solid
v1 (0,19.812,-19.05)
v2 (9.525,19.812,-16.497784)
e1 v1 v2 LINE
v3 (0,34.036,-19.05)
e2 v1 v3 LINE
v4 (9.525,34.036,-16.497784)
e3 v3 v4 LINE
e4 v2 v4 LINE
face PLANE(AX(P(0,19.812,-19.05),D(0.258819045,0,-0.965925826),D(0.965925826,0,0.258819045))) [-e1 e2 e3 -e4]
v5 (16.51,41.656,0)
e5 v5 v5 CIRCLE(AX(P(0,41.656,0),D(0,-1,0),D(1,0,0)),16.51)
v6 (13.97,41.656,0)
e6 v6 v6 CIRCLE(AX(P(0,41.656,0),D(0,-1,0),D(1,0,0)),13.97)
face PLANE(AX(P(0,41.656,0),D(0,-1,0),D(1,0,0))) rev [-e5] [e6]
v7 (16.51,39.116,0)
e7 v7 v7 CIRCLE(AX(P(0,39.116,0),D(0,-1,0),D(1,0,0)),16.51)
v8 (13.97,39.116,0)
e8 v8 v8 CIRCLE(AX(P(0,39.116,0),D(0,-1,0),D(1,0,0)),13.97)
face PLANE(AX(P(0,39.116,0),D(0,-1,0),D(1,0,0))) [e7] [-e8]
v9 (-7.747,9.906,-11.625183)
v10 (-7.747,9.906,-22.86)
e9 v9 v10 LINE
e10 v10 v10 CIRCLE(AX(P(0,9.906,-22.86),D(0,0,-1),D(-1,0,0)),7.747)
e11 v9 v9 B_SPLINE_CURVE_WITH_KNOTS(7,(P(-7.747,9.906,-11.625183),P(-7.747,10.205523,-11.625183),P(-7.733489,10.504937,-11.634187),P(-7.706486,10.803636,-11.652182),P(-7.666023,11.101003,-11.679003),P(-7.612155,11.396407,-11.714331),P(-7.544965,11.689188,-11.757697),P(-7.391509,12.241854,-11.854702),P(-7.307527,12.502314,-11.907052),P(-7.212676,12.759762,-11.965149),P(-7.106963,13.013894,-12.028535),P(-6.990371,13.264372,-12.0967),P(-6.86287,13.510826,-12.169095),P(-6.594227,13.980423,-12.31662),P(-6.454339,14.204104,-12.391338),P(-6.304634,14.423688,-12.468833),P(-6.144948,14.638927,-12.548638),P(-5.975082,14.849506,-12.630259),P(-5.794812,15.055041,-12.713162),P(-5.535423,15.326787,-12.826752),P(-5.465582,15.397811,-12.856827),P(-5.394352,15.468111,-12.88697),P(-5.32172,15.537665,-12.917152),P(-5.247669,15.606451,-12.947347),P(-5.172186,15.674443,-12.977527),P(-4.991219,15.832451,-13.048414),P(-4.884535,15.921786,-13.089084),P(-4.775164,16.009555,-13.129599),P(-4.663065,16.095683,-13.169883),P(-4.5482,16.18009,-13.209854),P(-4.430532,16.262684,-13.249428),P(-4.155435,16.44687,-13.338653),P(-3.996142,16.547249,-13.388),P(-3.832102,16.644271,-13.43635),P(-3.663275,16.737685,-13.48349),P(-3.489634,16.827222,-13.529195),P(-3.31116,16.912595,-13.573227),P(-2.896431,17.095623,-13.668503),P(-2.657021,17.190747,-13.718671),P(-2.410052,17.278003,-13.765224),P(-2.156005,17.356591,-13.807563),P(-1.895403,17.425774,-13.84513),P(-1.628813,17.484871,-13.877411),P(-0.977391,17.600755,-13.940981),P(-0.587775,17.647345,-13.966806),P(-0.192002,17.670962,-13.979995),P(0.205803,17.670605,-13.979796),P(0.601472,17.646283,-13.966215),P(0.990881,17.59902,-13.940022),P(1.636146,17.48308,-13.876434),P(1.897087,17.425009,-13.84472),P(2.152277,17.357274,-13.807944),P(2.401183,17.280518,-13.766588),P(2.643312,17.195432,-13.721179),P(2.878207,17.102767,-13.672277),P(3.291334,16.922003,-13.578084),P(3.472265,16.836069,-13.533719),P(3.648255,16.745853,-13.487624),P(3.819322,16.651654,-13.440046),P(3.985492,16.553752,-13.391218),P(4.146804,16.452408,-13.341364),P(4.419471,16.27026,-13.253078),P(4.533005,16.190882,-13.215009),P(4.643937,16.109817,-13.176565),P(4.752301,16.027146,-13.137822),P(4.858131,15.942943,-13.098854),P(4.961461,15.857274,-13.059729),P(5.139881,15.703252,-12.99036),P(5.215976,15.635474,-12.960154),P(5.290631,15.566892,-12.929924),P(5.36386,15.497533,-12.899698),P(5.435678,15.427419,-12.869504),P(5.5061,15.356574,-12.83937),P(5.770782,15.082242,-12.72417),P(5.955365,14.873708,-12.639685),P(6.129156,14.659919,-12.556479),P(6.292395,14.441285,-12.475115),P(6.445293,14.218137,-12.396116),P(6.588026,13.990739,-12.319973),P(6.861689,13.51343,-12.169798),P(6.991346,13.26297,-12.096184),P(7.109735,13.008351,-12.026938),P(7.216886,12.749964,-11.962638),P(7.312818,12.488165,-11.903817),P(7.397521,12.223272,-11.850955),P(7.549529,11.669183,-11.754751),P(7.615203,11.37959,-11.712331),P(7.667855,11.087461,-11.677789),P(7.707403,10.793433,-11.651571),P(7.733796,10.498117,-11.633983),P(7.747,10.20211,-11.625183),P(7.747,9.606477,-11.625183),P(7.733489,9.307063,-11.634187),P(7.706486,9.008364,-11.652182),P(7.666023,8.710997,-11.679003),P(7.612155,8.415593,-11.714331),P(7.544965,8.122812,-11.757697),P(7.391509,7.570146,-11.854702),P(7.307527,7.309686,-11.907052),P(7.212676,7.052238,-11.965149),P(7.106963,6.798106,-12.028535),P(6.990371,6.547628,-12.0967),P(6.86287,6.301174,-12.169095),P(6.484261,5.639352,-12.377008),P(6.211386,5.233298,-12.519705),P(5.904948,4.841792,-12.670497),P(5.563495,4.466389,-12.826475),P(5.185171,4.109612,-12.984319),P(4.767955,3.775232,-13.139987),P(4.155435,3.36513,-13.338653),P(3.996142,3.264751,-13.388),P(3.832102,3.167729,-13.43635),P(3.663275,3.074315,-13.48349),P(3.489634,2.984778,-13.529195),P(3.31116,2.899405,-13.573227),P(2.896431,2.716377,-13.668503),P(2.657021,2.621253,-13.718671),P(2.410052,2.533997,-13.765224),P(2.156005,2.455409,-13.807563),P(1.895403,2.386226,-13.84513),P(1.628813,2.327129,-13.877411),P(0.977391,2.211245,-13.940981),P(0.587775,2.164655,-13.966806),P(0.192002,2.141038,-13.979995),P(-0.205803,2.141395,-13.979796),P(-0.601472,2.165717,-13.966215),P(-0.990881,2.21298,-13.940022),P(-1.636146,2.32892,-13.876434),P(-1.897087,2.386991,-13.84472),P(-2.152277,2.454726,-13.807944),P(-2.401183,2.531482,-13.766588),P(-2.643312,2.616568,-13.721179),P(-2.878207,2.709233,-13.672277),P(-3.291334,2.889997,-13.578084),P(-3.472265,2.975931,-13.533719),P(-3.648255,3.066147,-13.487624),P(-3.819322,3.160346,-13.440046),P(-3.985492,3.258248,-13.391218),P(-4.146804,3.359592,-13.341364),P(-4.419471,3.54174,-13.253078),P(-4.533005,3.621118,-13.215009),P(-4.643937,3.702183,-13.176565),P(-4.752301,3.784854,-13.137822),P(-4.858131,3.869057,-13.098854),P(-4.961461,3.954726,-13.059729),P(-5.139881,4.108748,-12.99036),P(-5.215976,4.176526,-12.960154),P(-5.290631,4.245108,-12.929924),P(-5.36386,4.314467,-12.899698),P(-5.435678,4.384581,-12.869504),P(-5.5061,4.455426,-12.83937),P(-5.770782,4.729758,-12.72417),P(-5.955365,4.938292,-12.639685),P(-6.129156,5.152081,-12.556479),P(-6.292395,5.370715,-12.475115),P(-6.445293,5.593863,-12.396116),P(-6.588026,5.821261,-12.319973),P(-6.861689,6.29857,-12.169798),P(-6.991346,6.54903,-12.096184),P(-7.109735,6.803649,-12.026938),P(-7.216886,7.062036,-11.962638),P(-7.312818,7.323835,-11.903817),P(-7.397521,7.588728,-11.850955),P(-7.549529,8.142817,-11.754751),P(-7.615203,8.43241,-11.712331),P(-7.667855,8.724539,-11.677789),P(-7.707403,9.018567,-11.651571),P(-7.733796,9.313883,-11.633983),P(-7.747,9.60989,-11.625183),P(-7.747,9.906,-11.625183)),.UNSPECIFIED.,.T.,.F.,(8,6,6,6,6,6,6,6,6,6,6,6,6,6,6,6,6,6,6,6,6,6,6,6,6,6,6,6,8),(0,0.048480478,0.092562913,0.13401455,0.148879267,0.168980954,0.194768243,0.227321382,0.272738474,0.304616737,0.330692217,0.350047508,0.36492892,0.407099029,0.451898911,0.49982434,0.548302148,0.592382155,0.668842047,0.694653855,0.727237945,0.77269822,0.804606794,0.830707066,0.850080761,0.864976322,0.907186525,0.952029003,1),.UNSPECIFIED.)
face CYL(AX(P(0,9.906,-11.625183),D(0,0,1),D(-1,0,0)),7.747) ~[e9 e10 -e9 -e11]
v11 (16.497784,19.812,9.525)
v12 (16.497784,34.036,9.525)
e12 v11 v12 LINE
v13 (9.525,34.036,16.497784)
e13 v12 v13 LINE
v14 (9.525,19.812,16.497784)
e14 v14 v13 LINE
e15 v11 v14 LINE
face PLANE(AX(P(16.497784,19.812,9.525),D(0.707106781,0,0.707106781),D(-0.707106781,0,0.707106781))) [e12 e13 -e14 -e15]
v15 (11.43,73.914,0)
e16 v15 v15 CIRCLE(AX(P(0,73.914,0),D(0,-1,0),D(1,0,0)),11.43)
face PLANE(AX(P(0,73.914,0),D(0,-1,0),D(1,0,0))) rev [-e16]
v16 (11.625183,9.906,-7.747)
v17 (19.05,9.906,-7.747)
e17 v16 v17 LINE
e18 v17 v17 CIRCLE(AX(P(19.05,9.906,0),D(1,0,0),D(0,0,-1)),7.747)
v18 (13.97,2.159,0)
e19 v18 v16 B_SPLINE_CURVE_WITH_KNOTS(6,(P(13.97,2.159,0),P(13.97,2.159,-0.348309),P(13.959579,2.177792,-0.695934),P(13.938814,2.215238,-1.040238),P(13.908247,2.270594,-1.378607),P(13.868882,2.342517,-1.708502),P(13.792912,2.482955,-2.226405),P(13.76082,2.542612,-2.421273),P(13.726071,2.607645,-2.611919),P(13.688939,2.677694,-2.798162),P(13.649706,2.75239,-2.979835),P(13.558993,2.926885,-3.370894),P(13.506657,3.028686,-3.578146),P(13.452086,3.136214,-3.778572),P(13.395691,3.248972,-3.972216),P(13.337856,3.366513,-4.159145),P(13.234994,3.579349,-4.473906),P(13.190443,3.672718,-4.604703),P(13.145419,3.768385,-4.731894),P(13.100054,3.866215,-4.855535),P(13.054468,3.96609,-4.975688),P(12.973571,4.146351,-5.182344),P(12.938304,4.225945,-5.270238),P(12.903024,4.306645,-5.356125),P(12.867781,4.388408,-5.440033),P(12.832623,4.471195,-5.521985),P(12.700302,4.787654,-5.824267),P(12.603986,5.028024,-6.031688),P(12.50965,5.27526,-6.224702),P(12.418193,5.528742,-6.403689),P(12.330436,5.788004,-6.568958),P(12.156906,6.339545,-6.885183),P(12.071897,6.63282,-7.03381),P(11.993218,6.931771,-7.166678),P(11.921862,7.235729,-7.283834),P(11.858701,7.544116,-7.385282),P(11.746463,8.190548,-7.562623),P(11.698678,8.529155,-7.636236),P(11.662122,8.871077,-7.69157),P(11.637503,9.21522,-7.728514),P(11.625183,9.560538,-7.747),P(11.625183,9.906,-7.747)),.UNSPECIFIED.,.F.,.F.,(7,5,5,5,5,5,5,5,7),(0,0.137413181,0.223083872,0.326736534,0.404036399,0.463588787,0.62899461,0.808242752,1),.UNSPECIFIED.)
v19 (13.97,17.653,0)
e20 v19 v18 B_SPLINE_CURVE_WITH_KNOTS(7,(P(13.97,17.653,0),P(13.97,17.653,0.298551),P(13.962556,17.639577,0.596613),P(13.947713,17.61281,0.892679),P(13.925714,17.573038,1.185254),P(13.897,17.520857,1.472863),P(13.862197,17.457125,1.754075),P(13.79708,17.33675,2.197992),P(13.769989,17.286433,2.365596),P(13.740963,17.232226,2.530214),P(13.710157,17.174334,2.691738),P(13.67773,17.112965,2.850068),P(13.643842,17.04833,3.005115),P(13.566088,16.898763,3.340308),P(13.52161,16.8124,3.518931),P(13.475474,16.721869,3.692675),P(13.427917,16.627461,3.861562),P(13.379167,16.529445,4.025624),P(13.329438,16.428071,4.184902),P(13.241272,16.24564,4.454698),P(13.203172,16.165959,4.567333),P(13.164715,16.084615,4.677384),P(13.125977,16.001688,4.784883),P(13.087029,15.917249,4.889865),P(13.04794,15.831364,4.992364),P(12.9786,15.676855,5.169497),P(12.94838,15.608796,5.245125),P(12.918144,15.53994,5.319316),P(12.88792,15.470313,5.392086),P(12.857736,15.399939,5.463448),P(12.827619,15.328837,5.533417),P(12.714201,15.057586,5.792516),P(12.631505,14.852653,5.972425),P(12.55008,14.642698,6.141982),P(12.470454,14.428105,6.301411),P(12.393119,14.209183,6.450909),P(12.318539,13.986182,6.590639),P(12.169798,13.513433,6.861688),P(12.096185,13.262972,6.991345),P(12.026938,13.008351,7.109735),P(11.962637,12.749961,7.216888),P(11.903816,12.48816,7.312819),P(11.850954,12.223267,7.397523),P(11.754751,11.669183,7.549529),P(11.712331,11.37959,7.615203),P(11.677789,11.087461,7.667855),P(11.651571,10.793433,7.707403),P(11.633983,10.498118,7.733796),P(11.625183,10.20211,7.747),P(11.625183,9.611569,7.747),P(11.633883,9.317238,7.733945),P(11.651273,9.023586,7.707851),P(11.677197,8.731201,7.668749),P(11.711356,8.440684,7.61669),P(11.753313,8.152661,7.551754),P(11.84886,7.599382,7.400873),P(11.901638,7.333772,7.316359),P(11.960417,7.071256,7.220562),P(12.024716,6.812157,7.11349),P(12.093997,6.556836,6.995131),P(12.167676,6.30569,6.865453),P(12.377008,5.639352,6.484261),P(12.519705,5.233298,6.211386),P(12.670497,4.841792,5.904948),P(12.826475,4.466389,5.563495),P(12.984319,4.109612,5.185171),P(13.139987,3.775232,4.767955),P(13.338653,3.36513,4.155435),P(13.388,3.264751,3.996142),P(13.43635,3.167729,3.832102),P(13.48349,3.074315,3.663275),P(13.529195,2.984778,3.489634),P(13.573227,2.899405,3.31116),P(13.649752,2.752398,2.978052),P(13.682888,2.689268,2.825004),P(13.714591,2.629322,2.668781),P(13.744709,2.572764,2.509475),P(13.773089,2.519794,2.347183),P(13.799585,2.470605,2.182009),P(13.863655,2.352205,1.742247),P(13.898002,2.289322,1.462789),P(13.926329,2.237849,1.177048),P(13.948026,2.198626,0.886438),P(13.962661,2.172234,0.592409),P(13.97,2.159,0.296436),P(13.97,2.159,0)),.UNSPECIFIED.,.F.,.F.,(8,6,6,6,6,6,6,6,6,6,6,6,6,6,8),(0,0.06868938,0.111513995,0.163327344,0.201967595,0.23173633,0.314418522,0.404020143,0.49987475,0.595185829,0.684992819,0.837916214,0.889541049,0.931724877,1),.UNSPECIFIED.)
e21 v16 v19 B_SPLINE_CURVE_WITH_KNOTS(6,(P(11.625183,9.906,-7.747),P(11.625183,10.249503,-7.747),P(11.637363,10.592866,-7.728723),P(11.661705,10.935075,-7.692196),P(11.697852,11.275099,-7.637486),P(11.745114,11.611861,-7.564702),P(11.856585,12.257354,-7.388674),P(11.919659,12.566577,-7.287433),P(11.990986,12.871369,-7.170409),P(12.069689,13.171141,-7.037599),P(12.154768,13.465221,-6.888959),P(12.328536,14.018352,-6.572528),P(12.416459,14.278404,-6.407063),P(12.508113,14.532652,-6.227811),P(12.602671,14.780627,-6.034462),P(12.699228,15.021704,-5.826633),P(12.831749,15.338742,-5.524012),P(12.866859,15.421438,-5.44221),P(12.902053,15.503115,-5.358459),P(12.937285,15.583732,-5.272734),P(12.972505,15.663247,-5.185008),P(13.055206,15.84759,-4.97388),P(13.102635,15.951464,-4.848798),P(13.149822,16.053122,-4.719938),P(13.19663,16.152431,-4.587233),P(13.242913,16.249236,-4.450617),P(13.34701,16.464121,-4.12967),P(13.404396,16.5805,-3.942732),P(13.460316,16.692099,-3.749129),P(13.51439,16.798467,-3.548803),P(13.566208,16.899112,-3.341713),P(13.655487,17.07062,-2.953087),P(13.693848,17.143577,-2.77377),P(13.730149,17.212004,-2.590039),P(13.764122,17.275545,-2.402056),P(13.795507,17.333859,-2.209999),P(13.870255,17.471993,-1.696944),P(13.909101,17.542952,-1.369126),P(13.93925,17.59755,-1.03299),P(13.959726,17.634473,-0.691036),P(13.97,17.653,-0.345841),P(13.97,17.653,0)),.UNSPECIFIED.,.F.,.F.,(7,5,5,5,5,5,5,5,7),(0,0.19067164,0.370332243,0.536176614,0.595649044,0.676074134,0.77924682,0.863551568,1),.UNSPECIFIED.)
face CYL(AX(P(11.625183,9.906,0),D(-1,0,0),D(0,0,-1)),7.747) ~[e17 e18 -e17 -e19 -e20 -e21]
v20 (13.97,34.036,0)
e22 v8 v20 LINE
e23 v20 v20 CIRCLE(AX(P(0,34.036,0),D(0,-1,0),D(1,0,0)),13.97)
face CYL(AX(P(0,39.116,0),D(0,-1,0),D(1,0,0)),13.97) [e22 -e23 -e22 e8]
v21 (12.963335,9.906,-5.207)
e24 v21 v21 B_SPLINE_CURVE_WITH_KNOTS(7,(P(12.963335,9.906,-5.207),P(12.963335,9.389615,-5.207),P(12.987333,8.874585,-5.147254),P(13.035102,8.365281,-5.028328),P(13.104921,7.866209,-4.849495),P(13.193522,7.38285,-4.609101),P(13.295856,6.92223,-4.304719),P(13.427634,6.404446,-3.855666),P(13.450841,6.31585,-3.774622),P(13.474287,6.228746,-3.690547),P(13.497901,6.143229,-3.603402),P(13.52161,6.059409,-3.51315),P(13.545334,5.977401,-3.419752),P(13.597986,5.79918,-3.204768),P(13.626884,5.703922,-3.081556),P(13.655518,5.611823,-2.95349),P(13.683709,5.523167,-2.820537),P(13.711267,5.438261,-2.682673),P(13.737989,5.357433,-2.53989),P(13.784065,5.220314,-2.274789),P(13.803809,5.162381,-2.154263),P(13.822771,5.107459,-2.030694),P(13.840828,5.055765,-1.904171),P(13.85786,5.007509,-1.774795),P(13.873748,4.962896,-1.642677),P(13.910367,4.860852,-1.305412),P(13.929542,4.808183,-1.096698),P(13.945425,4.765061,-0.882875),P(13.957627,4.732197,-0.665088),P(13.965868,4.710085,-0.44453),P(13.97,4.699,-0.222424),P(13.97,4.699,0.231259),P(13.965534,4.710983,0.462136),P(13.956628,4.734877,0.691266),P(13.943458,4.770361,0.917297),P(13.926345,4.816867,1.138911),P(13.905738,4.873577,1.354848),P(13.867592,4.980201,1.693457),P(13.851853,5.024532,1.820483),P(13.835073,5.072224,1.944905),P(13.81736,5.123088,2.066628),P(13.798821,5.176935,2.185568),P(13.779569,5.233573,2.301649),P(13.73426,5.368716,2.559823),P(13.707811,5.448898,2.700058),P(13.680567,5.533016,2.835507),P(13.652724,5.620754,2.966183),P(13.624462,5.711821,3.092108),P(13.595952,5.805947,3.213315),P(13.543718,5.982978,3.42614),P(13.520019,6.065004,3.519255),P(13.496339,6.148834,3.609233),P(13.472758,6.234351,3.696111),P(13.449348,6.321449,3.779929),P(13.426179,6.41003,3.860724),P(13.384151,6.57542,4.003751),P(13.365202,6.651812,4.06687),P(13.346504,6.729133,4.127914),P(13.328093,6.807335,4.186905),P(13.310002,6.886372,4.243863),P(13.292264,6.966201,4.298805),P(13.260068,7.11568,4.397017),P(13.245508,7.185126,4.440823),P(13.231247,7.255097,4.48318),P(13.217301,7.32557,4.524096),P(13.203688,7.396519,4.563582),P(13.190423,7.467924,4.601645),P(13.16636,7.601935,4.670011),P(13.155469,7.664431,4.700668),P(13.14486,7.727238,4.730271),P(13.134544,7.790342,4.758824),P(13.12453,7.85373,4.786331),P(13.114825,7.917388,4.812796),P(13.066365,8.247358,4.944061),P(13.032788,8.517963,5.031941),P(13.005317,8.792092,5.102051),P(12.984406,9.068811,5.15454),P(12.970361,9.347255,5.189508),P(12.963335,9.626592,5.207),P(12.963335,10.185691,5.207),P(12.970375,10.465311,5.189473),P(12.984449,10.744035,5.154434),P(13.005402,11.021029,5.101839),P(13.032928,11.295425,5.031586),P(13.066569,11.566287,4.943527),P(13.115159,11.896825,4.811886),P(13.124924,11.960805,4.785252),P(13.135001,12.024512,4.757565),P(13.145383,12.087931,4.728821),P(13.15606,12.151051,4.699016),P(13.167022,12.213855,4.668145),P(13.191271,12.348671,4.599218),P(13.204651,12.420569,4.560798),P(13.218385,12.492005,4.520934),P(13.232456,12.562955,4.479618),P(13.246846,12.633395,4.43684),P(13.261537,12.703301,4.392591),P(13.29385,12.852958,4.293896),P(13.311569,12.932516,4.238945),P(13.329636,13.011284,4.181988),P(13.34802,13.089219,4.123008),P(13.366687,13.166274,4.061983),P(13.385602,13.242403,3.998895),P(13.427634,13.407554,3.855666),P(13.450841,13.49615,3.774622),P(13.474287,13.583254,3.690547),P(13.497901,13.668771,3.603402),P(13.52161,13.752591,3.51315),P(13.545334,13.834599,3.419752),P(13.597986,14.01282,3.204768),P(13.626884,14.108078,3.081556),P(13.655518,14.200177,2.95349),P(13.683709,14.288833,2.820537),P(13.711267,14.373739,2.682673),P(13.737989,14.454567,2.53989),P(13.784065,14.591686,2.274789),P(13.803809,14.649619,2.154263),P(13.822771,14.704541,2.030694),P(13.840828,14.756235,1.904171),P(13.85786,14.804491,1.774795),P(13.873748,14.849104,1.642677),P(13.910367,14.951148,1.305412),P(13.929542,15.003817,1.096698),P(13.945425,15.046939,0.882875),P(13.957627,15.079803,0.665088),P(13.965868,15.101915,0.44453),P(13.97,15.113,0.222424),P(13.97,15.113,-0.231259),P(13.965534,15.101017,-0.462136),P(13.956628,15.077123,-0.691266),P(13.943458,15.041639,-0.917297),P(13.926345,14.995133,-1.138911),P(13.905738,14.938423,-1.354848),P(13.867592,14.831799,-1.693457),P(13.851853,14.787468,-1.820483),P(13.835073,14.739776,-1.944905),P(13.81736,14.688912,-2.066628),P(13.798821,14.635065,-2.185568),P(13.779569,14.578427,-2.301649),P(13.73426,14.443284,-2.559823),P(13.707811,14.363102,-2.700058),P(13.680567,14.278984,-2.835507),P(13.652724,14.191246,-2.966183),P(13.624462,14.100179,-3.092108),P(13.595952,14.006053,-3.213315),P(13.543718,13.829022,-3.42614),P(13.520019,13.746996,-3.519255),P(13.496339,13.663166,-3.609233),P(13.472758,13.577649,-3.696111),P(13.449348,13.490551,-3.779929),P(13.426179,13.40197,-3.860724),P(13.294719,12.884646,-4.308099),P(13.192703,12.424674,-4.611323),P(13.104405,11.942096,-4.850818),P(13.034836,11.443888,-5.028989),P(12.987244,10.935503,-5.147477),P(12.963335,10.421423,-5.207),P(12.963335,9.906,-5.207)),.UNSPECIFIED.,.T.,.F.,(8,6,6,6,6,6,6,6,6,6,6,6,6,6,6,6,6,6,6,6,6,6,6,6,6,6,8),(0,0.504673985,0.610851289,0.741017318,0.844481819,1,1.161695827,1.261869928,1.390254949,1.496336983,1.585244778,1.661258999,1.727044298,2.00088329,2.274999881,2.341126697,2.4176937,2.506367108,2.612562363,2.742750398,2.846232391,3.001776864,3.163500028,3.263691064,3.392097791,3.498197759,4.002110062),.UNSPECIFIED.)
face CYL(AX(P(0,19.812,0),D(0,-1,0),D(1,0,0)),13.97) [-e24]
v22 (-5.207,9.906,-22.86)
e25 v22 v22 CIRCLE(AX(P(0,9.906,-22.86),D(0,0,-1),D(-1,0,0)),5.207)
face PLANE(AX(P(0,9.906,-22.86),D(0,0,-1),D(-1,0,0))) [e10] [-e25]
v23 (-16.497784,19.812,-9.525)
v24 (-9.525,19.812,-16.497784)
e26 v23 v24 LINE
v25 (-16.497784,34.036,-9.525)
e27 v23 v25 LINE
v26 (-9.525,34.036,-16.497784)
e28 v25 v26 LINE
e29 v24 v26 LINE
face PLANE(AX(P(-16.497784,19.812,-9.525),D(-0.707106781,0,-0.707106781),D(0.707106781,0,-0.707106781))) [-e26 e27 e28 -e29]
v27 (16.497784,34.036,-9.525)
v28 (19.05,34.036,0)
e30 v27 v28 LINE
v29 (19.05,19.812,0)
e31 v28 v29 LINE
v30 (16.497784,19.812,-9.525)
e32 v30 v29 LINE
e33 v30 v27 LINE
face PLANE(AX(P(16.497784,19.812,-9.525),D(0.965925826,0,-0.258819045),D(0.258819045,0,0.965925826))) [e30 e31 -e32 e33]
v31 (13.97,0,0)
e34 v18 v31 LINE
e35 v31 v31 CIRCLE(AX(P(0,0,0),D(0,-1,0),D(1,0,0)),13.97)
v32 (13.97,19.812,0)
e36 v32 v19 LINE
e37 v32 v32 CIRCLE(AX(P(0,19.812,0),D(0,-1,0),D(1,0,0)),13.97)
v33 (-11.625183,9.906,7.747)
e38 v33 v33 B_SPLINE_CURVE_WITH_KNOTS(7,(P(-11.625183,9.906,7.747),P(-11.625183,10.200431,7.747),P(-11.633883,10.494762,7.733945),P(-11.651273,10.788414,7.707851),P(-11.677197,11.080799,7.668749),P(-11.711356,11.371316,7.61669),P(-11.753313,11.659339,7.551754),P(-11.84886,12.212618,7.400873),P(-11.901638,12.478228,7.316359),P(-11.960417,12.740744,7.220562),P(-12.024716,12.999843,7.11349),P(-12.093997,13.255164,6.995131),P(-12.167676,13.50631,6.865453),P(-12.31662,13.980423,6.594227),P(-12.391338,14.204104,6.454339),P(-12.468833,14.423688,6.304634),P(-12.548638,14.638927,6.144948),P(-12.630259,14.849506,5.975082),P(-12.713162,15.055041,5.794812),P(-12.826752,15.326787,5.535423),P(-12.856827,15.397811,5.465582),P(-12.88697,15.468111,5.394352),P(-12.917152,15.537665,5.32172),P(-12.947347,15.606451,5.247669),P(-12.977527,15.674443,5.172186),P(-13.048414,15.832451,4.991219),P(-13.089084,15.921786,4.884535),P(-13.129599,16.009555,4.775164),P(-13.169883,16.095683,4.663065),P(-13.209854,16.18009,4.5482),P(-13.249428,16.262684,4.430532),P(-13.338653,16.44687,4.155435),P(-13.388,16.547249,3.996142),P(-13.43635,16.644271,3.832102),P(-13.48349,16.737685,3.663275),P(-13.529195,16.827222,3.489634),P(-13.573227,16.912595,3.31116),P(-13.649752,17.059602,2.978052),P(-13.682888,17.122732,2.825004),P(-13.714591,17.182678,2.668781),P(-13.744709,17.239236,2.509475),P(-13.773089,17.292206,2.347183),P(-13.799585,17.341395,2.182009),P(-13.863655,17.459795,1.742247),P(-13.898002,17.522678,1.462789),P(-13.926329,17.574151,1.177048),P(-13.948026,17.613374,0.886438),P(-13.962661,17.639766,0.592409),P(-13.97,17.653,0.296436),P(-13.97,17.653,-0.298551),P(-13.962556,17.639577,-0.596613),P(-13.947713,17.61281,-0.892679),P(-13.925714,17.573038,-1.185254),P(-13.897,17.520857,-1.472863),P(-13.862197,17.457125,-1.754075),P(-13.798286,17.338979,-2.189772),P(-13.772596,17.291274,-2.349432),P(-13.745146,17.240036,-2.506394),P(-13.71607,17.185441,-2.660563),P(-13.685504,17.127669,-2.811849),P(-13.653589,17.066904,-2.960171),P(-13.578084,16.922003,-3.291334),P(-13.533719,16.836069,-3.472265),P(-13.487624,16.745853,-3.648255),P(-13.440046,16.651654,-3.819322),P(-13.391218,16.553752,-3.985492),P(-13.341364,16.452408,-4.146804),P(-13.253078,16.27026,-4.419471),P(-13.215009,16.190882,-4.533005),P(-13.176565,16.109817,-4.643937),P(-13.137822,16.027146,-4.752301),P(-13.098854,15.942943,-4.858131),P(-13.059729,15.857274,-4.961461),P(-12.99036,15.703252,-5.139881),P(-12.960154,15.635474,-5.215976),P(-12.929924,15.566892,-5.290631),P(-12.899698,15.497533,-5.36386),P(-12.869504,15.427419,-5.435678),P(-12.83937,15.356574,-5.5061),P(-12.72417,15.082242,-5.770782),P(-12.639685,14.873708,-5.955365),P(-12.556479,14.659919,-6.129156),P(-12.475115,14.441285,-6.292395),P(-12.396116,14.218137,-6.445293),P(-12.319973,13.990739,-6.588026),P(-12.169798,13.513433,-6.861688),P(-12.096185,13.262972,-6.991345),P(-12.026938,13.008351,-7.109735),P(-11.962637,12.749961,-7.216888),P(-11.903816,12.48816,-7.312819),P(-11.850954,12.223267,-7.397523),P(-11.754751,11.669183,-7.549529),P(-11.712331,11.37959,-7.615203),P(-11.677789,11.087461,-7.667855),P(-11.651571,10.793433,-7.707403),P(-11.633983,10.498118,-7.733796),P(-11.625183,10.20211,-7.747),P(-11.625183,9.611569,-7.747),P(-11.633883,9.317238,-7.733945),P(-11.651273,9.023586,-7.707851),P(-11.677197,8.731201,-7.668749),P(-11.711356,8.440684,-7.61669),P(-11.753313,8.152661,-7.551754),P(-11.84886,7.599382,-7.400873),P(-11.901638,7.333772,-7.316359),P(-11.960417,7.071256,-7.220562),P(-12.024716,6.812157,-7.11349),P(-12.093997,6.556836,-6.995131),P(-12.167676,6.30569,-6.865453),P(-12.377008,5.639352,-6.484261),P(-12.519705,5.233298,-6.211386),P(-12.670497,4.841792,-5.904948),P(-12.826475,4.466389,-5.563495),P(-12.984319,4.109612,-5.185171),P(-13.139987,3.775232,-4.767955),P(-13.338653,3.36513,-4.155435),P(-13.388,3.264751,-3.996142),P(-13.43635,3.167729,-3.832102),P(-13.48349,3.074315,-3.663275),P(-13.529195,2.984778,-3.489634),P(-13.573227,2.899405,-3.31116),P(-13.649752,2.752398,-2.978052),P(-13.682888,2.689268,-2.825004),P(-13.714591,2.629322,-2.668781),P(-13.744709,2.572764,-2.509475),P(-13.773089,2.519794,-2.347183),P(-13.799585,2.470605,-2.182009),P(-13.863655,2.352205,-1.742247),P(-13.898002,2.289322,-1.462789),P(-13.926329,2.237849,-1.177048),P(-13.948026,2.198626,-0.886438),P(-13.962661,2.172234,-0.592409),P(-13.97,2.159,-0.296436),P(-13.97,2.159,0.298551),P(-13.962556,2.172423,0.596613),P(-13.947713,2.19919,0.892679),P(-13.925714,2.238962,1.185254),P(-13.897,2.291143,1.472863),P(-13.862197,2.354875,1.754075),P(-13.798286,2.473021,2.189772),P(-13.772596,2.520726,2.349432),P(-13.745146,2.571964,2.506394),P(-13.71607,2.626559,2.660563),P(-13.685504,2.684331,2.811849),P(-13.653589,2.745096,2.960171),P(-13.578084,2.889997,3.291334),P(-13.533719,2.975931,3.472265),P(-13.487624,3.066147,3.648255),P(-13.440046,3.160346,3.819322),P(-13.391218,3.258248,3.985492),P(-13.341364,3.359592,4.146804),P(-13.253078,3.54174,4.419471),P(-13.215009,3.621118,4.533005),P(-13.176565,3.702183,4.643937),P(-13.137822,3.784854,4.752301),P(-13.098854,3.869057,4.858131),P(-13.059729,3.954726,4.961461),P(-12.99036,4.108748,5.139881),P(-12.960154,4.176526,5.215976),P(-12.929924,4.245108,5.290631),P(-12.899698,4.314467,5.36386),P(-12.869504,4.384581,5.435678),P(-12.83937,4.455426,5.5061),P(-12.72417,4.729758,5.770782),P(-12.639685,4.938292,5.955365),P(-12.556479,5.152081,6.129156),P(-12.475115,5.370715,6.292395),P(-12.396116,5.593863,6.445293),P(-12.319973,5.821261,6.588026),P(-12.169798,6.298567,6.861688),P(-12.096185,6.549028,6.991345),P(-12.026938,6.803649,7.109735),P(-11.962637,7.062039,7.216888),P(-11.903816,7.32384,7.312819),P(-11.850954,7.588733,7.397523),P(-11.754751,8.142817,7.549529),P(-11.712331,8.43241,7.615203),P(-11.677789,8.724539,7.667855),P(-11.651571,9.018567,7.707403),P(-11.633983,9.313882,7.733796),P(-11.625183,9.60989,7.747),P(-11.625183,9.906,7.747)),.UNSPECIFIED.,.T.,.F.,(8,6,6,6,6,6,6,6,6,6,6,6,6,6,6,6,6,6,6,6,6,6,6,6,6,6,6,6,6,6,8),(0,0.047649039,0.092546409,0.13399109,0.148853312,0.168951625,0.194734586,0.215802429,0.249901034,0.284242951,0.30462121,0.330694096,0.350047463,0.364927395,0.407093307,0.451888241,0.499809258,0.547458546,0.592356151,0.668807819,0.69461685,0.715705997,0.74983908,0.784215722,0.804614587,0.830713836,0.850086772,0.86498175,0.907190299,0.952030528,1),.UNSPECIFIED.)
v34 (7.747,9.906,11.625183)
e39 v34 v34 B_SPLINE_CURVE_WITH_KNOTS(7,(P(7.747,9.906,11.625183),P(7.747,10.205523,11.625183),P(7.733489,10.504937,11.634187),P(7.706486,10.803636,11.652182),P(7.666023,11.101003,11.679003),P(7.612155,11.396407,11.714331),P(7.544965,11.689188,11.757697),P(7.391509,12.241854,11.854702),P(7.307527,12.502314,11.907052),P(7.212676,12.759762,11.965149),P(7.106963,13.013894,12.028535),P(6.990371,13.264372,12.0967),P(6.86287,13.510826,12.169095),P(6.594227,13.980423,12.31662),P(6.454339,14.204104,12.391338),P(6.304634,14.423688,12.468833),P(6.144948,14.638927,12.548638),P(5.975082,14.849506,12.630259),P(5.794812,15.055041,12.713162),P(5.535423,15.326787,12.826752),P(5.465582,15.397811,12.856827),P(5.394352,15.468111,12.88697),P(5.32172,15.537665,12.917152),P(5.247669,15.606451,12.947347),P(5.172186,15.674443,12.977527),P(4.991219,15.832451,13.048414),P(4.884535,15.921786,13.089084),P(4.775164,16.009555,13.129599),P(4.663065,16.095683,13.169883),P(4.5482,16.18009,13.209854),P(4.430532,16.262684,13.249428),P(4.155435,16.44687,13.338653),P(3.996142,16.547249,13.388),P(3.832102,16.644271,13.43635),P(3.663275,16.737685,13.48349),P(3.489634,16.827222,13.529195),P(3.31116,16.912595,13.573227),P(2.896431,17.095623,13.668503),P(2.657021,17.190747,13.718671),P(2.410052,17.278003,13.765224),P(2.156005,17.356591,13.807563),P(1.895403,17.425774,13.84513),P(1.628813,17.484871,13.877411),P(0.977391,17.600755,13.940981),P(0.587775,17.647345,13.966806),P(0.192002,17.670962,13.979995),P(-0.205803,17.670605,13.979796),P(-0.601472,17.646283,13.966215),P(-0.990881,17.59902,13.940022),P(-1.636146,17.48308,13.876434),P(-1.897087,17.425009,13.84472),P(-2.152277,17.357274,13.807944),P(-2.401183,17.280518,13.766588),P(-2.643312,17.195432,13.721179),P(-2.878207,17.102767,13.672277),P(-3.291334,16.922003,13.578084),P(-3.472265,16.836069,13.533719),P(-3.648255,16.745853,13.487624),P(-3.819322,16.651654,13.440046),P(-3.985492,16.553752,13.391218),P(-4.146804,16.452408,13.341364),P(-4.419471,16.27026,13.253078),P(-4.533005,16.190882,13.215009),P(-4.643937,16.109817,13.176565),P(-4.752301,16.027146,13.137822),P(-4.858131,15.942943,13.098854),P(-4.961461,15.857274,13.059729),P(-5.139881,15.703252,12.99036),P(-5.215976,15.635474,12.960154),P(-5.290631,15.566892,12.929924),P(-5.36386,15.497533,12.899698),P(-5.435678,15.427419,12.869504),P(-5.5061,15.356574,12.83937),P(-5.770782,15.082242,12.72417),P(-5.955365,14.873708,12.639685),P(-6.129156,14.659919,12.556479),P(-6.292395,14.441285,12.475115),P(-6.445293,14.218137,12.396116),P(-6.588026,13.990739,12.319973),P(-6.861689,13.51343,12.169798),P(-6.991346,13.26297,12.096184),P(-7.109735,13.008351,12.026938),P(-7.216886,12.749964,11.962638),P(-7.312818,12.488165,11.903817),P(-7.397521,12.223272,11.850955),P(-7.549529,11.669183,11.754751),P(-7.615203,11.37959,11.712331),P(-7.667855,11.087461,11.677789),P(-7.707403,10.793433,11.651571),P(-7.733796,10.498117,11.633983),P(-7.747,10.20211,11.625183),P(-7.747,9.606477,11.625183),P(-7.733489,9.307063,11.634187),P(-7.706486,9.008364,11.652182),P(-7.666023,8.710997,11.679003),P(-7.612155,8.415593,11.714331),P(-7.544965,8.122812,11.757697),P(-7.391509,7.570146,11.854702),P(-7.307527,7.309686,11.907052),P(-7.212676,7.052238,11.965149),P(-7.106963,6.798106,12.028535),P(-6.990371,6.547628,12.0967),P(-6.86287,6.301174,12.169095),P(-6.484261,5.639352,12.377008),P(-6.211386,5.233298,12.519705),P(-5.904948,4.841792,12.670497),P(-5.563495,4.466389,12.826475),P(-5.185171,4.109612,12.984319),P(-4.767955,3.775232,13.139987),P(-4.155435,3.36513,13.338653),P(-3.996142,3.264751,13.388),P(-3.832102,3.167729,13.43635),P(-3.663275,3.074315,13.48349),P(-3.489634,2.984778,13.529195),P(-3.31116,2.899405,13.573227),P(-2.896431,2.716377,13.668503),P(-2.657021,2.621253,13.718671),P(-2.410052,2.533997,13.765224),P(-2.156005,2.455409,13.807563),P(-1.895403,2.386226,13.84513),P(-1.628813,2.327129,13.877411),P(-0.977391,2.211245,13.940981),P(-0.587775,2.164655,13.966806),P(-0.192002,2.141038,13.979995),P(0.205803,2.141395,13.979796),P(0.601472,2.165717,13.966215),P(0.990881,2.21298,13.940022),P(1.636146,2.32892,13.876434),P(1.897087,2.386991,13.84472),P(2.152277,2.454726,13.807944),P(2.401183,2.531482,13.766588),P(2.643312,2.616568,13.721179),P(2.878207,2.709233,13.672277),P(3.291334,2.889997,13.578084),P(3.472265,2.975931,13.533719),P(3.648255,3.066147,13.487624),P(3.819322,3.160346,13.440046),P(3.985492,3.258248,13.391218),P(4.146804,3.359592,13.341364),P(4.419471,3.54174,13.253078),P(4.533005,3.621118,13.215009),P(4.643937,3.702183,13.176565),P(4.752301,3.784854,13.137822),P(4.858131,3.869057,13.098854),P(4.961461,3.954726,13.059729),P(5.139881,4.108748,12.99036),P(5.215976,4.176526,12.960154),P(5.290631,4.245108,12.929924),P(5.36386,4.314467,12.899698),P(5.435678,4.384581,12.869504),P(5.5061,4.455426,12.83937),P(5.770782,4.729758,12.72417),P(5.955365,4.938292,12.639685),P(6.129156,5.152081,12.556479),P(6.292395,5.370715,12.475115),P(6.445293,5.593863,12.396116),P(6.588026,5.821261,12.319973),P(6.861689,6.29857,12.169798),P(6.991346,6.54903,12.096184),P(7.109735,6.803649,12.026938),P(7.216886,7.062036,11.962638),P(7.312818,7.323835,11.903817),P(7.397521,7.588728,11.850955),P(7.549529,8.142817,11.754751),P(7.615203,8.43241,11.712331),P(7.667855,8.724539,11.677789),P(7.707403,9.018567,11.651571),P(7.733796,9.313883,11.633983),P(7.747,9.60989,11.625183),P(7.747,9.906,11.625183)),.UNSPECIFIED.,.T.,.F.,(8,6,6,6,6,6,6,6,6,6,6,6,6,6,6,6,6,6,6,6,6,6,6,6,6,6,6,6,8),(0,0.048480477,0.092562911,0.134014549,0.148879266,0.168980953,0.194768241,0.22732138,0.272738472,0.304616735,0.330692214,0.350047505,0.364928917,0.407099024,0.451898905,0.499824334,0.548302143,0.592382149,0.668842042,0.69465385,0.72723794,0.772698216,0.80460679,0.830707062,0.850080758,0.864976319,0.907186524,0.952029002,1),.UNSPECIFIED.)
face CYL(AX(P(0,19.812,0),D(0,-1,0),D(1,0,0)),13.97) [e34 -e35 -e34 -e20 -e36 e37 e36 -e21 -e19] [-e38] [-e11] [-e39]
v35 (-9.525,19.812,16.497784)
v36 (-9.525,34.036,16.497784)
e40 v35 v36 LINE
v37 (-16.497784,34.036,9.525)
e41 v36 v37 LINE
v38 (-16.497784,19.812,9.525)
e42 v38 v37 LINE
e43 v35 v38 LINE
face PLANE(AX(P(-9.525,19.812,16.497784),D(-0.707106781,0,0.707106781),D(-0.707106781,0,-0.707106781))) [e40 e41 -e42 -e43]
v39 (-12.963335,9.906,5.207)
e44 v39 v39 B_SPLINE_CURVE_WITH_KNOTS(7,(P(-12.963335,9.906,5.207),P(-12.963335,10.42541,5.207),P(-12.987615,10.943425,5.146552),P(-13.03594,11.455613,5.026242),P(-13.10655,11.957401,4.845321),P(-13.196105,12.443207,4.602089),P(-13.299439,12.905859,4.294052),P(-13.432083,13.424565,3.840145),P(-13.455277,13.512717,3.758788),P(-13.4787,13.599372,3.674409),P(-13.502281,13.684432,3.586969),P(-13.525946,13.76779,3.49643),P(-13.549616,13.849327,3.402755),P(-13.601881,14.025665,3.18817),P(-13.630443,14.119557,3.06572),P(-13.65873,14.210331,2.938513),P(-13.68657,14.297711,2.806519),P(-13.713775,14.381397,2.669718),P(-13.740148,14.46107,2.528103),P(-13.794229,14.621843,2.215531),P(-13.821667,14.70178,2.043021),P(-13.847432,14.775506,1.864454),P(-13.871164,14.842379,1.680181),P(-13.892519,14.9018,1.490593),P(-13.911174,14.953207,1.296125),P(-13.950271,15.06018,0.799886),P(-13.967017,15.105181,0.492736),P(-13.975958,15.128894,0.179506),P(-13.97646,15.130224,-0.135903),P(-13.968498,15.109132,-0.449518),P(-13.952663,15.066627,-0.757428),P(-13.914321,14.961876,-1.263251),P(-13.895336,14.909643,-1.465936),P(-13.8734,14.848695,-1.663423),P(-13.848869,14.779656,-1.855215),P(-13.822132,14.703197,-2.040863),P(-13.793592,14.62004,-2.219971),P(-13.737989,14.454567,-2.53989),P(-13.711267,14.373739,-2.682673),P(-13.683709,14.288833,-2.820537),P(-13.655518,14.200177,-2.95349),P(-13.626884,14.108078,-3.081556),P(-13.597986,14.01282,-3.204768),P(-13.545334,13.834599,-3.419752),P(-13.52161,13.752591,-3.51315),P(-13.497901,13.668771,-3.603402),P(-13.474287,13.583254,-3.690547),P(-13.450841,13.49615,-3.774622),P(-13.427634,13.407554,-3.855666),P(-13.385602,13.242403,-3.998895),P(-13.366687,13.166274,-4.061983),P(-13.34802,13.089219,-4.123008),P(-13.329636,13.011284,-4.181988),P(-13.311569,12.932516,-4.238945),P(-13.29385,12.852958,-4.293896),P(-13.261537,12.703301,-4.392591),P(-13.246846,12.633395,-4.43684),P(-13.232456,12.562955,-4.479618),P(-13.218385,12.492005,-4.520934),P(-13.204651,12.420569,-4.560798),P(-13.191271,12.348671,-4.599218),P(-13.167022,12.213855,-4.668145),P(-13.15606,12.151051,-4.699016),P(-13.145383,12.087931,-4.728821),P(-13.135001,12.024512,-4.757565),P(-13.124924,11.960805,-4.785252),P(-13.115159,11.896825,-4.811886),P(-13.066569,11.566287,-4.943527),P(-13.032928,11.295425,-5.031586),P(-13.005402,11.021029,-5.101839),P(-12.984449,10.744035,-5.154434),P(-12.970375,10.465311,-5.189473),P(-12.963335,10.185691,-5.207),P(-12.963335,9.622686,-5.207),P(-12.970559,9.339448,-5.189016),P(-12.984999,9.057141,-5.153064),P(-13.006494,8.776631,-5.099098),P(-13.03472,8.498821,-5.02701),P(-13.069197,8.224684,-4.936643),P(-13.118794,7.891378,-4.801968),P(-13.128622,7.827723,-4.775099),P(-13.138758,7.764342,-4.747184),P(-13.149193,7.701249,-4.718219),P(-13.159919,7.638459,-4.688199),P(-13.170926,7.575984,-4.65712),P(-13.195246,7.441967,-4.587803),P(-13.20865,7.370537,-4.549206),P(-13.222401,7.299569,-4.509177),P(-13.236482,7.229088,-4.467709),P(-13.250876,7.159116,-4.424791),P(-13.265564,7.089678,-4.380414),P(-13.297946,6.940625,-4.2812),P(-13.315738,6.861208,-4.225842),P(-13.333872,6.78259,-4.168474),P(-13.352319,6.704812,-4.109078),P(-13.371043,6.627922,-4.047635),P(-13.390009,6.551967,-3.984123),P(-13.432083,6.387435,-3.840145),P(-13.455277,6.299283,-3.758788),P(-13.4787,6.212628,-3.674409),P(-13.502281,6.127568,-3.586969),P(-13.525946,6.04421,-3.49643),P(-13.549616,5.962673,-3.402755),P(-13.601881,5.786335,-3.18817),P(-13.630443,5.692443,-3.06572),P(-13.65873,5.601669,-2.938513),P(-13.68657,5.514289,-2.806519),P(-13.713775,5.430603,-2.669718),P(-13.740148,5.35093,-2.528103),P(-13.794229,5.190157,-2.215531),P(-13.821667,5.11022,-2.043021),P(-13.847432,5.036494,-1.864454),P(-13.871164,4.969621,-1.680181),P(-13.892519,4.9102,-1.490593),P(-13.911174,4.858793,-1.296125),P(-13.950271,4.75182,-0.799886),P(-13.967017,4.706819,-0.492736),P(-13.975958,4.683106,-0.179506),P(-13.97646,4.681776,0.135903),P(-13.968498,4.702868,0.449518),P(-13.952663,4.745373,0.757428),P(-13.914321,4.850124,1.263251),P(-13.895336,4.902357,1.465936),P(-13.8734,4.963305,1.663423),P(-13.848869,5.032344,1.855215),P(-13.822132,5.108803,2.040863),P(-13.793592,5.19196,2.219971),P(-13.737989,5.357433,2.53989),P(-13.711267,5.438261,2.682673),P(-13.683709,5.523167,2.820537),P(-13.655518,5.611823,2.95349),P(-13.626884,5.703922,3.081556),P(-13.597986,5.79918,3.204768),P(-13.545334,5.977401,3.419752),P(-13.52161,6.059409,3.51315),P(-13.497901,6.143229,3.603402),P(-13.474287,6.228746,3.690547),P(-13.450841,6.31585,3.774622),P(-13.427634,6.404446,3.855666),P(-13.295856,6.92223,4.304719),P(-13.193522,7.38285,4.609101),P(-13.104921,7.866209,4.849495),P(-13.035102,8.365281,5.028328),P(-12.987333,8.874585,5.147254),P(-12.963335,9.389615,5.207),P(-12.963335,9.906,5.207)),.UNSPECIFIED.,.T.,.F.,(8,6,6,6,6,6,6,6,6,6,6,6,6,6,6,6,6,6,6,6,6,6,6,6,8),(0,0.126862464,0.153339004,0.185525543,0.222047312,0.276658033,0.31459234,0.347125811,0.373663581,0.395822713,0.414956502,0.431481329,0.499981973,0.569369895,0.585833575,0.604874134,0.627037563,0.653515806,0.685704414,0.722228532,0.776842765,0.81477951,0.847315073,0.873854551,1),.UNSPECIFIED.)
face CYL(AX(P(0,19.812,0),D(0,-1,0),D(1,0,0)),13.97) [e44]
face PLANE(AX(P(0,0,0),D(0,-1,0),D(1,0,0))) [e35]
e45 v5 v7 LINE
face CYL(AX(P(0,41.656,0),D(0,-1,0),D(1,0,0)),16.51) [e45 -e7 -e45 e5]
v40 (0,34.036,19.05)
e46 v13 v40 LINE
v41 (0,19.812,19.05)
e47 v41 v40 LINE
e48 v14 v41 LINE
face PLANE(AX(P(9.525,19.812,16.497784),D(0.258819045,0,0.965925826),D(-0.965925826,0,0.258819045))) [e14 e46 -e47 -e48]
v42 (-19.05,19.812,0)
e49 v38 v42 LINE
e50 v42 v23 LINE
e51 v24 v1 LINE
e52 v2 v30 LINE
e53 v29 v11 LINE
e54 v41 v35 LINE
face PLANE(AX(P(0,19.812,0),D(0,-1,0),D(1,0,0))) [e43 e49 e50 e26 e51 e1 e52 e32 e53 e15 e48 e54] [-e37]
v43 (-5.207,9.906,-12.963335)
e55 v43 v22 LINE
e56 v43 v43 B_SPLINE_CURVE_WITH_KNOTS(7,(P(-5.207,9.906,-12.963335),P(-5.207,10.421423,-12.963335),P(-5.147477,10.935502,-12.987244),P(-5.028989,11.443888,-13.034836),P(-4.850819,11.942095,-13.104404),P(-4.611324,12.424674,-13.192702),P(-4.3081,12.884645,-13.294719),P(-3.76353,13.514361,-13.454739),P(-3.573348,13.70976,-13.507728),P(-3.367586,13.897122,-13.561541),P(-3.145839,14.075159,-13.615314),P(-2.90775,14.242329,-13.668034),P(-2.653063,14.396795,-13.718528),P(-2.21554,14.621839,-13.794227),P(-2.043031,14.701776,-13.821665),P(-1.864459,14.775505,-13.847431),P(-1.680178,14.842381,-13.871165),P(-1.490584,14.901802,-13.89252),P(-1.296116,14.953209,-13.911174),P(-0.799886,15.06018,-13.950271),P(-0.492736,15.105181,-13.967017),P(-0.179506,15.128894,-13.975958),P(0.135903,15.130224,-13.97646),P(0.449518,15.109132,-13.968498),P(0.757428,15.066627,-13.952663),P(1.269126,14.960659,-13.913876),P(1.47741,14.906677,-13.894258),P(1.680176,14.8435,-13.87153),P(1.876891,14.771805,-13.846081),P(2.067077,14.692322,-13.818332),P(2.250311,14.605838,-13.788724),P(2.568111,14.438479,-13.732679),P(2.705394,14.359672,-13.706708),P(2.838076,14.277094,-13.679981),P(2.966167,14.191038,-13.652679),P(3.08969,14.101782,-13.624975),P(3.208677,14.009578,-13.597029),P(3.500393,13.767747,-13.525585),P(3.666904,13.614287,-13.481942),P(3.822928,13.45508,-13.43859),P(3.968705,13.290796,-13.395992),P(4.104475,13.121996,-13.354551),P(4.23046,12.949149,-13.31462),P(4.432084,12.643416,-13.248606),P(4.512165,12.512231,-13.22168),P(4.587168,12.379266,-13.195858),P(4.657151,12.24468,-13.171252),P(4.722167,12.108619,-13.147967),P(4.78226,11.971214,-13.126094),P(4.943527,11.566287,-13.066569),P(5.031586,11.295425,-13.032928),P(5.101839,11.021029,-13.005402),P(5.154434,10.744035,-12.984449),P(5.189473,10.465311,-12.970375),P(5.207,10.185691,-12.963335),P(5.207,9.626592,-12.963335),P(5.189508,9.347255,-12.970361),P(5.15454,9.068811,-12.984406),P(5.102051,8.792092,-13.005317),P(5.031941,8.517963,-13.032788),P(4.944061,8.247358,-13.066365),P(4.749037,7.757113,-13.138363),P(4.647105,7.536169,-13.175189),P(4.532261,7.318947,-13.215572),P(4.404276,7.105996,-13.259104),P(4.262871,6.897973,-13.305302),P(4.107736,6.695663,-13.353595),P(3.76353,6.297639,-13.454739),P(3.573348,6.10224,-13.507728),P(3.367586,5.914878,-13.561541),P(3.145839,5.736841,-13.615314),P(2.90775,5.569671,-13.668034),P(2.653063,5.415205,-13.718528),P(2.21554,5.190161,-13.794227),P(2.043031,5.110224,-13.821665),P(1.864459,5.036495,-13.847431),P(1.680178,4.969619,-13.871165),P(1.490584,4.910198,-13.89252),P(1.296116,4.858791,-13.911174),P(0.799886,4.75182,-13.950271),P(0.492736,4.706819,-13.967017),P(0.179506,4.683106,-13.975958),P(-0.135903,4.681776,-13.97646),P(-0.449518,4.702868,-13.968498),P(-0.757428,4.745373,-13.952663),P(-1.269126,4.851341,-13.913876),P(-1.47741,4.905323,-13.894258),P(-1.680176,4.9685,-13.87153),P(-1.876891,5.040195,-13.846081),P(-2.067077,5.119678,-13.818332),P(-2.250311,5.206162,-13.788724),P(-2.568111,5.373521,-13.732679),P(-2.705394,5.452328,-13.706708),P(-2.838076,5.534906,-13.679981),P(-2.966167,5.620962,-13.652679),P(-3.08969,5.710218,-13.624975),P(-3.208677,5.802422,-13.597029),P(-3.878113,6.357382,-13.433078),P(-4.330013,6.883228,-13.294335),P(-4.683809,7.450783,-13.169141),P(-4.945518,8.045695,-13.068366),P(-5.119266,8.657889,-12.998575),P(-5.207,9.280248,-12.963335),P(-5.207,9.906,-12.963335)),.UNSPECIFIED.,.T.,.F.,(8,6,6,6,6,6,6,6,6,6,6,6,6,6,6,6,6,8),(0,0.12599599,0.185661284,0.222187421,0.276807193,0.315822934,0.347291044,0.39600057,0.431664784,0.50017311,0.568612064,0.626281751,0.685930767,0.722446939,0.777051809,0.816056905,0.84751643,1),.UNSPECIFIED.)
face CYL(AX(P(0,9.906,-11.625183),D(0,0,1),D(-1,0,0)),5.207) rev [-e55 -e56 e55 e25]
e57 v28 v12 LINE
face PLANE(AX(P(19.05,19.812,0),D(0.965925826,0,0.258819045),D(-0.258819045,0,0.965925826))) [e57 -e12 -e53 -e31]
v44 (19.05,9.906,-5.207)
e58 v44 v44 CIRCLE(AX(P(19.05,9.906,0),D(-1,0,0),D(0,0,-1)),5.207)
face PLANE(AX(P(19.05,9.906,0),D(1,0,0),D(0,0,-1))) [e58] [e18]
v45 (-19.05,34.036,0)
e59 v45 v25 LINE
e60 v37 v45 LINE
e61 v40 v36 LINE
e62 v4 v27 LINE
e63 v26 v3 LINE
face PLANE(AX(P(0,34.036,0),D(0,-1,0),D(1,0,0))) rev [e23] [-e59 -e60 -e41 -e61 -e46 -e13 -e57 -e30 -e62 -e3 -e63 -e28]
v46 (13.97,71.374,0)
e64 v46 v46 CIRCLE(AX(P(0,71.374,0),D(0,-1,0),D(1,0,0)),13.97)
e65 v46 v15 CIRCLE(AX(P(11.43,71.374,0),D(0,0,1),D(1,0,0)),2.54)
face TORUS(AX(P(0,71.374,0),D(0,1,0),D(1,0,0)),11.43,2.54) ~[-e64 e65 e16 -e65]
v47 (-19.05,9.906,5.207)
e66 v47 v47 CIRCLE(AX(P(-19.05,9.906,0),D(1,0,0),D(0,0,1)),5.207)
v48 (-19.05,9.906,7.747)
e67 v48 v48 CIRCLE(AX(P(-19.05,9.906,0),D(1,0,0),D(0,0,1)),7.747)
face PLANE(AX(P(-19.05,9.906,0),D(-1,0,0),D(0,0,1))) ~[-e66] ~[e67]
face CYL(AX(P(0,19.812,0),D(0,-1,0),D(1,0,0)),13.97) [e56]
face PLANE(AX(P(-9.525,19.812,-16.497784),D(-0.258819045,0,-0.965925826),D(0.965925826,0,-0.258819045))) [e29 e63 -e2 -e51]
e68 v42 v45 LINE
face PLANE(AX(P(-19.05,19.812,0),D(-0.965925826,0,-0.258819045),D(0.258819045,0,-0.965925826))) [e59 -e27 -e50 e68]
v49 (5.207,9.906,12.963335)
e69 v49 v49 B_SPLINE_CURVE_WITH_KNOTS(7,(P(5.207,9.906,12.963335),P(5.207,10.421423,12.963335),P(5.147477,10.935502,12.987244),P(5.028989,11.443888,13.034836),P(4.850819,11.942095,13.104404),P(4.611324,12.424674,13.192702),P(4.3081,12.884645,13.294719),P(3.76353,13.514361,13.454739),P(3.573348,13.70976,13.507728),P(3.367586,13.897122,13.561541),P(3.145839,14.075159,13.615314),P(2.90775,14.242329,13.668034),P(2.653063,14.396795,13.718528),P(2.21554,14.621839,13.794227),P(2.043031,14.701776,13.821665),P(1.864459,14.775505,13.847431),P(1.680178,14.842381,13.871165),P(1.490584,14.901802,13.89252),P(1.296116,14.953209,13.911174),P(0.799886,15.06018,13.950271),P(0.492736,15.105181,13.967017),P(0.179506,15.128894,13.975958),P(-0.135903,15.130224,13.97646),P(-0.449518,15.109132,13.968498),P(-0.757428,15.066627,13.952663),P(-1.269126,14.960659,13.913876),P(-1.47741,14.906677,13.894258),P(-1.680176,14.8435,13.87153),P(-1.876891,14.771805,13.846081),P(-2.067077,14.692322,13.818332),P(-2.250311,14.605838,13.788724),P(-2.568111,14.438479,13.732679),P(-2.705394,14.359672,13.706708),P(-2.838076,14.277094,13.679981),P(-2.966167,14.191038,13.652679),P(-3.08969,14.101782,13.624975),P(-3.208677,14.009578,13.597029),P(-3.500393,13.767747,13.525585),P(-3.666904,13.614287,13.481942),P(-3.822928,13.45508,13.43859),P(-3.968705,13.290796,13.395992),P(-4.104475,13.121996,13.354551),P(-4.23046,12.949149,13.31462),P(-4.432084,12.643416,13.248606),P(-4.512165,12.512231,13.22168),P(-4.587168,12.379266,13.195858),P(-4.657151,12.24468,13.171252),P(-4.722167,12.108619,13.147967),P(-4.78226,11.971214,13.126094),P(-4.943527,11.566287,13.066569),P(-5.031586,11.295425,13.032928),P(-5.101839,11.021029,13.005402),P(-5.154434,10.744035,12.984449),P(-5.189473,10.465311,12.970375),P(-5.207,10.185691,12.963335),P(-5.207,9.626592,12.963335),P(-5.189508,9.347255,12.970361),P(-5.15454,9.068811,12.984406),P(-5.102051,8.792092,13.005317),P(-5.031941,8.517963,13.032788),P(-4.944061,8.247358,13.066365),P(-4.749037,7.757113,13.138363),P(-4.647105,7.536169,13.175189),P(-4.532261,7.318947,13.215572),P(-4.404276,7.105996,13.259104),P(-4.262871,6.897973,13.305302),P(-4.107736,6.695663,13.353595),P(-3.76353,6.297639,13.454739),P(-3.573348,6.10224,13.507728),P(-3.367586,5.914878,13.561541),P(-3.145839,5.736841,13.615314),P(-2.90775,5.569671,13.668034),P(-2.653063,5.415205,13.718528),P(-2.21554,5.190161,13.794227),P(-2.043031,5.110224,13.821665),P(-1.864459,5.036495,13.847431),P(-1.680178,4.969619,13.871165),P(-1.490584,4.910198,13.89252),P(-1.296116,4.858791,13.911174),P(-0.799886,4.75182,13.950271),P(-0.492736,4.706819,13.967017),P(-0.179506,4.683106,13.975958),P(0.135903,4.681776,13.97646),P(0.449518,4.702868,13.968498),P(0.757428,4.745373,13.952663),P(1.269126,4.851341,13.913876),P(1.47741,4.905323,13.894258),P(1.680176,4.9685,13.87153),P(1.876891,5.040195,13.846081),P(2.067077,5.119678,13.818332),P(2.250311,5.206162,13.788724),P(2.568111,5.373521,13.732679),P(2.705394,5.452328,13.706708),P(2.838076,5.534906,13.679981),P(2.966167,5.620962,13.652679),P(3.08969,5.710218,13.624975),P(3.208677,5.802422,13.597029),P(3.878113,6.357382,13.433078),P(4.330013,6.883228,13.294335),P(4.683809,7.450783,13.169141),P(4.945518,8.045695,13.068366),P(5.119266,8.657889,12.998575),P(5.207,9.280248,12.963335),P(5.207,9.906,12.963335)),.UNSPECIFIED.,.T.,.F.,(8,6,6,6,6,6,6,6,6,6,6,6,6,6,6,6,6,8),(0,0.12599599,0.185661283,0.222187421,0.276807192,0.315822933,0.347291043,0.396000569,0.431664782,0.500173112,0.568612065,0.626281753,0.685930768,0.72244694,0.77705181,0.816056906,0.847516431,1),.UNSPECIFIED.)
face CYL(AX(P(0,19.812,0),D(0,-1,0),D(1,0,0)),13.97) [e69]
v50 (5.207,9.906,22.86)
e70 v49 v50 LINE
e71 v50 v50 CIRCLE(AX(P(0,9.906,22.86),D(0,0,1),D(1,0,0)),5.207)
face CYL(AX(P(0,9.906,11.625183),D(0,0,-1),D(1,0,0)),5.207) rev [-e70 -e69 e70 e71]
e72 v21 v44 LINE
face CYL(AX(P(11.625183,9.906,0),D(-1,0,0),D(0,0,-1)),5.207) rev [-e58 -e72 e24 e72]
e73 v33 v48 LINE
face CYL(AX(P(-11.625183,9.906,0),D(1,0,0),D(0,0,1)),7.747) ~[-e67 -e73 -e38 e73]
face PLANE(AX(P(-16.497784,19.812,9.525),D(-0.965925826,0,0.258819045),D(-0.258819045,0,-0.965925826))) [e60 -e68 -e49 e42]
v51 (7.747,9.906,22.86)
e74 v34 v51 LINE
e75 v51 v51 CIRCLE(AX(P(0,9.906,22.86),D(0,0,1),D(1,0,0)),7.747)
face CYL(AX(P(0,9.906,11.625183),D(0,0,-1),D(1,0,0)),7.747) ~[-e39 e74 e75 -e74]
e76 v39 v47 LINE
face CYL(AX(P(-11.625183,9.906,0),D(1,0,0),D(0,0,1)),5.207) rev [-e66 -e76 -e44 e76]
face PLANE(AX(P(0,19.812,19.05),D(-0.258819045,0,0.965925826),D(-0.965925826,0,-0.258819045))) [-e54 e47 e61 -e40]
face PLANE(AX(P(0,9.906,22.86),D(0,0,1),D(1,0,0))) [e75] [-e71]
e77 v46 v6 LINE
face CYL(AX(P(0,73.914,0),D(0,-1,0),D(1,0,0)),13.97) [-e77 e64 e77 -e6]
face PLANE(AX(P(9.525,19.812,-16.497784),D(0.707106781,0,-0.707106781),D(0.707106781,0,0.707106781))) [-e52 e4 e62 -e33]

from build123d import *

# Parameters (mm, degrees)
CUT_EXTRUDE1_START  = -14.224
CUT_EXTRUDE1_DEPTH  = 14.224
BOSS_EXTRUDE1_START = -2.344817
SKETCH3_R           = 7.747
SKETCH3_R_2         = 5.207
BOSS_EXTRUDE1_DEPTH = 11.234817
CIRPATTERN1_COUNT   = 4
SKETCH4_R           = 7.747
CUT_EXTRUDE2_DEPTH  = 3.81
FILLET1_R           = 2.54


with BuildPart() as part:
    # Sketch1 → Revolve1 (revolve)
    with BuildSketch(Plane.XY):
        Polygon((0, 73.914), (13.97, 73.914), (13.97, 41.656), (16.51, 41.656), (16.51, 39.116), (13.97, 39.116), (13.97, 34.036), (19.05, 34.036), (19.05, 19.812), (13.97, 19.812), (13.97, 0), (0, 0), align=None)
    revolve(axis=Axis((0, 73.914, 0), (0, -1, 0)))

    # Sketch2 → Cut-Extrude1 (cut)
    with BuildSketch(Plane(origin=(0, 34.036, 0), x_dir=(1, 0, 0), z_dir=(0, 1, 0)).offset(CUT_EXTRUDE1_START)):
        with BuildLine():
            ThreePointArc((9.525, 16.497783942), (4.930502809, 18.400886991), (0, 19.05))
            Line((0, 19.05), (9.525, 16.497783942))
        make_face()
        with BuildLine():
            Line((-9.525, 16.497783942), (0, 19.05))
            ThreePointArc((0, 19.05), (-4.930502809, 18.400886991), (-9.525, 16.497783942))
        make_face()
        with BuildLine():
            Line((-16.497783942, 9.525), (-9.525, 16.497783942))
            ThreePointArc((-9.525, 16.497783942), (-13.470384182, 13.470384182), (-16.497783942, 9.525))
        make_face()
        with BuildLine():
            ThreePointArc((16.497783942, 9.525), (13.470384182, 13.470384182), (9.525, 16.497783942))
            Line((9.525, 16.497783942), (16.497783942, 9.525))
        make_face()
        with BuildLine():
            Line((-19.05, 0), (-16.497783942, 9.525))
            ThreePointArc((-16.497783942, 9.525), (-18.400886991, 4.930502809), (-19.05, 0))
        make_face()
        with BuildLine():
            ThreePointArc((19.05, 0), (18.400886991, 4.930502809), (16.497783942, 9.525))
            Line((16.497783942, 9.525), (19.05, 0))
        make_face()
        with BuildLine():
            Line((-16.497783942, -9.525), (-19.05, 0))
            ThreePointArc((-19.05, 0), (-18.400886991, -4.930502809), (-16.497783942, -9.525))
        make_face()
        with BuildLine():
            ThreePointArc((16.497783942, -9.525), (18.400886991, -4.930502809), (19.05, 0))
            Line((19.05, 0), (16.497783942, -9.525))
        make_face()
        with BuildLine():
            Line((-9.525, -16.497783942), (-16.497783942, -9.525))
            ThreePointArc((-16.497783942, -9.525), (-13.470384182, -13.470384182), (-9.525, -16.497783942))
        make_face()
        with BuildLine():
            ThreePointArc((9.525, -16.497783942), (13.470384182, -13.470384182), (16.497783942, -9.525))
            Line((16.497783942, -9.525), (9.525, -16.497783942))
        make_face()
        with BuildLine():
            Line((0, -19.05), (-9.525, -16.497783942))
            ThreePointArc((-9.525, -16.497783942), (-4.930502809, -18.400886991), (0, -19.05))
        make_face()
        with BuildLine():
            ThreePointArc((0, -19.05), (4.930502809, -18.400886991), (9.525, -16.497783942))
            Line((9.525, -16.497783942), (0, -19.05))
        make_face()
    extrude(amount=CUT_EXTRUDE1_DEPTH, mode=Mode.SUBTRACT)

    # Sketch3 → Boss-Extrude1 (add)
    with BuildSketch(Plane.XY.offset(13.97).offset(BOSS_EXTRUDE1_START)):
        with Locations((0, 9.906)):
            Circle(SKETCH3_R)
        with Locations((0, 9.906)):
            Circle(SKETCH3_R_2, mode=Mode.SUBTRACT)
    boss_extrude1 = extrude(amount=BOSS_EXTRUDE1_DEPTH)

    # CirPattern1: Boss-Extrude1 ×4 about axis
    cirpattern1_axis = Axis((0, 0, 0), (0, 1, 0))
    for i in range(1, CIRPATTERN1_COUNT):
        add(boss_extrude1.rotate(cirpattern1_axis, i * 360 / CIRPATTERN1_COUNT))

    # Sketch4 → Cut-Extrude2 (cut)
    with BuildSketch(Plane(origin=(22.86, 0, 0), x_dir=(0, 0, -1), z_dir=(1, 0, 0))):
        with Locations((0, 9.906)):
            Circle(SKETCH4_R)
    cut_extrude2 = extrude(amount=-CUT_EXTRUDE2_DEPTH, mode=Mode.SUBTRACT)

    # Mirror2: Cut-Extrude2 across plane
    add(cut_extrude2.mirror(Plane(origin=(0, 0, 0), x_dir=(0, 0, 1), z_dir=(1, 0, 0))), mode=Mode.SUBTRACT)

    # Fillet1
    fillet1_edges = [part.edges().sort_by_distance(p)[0] for p in [
        (-13.97, 73.914, 0),
    ]]
    fillet(fillet1_edges, radius=FILLET1_R)


solid = part.part
